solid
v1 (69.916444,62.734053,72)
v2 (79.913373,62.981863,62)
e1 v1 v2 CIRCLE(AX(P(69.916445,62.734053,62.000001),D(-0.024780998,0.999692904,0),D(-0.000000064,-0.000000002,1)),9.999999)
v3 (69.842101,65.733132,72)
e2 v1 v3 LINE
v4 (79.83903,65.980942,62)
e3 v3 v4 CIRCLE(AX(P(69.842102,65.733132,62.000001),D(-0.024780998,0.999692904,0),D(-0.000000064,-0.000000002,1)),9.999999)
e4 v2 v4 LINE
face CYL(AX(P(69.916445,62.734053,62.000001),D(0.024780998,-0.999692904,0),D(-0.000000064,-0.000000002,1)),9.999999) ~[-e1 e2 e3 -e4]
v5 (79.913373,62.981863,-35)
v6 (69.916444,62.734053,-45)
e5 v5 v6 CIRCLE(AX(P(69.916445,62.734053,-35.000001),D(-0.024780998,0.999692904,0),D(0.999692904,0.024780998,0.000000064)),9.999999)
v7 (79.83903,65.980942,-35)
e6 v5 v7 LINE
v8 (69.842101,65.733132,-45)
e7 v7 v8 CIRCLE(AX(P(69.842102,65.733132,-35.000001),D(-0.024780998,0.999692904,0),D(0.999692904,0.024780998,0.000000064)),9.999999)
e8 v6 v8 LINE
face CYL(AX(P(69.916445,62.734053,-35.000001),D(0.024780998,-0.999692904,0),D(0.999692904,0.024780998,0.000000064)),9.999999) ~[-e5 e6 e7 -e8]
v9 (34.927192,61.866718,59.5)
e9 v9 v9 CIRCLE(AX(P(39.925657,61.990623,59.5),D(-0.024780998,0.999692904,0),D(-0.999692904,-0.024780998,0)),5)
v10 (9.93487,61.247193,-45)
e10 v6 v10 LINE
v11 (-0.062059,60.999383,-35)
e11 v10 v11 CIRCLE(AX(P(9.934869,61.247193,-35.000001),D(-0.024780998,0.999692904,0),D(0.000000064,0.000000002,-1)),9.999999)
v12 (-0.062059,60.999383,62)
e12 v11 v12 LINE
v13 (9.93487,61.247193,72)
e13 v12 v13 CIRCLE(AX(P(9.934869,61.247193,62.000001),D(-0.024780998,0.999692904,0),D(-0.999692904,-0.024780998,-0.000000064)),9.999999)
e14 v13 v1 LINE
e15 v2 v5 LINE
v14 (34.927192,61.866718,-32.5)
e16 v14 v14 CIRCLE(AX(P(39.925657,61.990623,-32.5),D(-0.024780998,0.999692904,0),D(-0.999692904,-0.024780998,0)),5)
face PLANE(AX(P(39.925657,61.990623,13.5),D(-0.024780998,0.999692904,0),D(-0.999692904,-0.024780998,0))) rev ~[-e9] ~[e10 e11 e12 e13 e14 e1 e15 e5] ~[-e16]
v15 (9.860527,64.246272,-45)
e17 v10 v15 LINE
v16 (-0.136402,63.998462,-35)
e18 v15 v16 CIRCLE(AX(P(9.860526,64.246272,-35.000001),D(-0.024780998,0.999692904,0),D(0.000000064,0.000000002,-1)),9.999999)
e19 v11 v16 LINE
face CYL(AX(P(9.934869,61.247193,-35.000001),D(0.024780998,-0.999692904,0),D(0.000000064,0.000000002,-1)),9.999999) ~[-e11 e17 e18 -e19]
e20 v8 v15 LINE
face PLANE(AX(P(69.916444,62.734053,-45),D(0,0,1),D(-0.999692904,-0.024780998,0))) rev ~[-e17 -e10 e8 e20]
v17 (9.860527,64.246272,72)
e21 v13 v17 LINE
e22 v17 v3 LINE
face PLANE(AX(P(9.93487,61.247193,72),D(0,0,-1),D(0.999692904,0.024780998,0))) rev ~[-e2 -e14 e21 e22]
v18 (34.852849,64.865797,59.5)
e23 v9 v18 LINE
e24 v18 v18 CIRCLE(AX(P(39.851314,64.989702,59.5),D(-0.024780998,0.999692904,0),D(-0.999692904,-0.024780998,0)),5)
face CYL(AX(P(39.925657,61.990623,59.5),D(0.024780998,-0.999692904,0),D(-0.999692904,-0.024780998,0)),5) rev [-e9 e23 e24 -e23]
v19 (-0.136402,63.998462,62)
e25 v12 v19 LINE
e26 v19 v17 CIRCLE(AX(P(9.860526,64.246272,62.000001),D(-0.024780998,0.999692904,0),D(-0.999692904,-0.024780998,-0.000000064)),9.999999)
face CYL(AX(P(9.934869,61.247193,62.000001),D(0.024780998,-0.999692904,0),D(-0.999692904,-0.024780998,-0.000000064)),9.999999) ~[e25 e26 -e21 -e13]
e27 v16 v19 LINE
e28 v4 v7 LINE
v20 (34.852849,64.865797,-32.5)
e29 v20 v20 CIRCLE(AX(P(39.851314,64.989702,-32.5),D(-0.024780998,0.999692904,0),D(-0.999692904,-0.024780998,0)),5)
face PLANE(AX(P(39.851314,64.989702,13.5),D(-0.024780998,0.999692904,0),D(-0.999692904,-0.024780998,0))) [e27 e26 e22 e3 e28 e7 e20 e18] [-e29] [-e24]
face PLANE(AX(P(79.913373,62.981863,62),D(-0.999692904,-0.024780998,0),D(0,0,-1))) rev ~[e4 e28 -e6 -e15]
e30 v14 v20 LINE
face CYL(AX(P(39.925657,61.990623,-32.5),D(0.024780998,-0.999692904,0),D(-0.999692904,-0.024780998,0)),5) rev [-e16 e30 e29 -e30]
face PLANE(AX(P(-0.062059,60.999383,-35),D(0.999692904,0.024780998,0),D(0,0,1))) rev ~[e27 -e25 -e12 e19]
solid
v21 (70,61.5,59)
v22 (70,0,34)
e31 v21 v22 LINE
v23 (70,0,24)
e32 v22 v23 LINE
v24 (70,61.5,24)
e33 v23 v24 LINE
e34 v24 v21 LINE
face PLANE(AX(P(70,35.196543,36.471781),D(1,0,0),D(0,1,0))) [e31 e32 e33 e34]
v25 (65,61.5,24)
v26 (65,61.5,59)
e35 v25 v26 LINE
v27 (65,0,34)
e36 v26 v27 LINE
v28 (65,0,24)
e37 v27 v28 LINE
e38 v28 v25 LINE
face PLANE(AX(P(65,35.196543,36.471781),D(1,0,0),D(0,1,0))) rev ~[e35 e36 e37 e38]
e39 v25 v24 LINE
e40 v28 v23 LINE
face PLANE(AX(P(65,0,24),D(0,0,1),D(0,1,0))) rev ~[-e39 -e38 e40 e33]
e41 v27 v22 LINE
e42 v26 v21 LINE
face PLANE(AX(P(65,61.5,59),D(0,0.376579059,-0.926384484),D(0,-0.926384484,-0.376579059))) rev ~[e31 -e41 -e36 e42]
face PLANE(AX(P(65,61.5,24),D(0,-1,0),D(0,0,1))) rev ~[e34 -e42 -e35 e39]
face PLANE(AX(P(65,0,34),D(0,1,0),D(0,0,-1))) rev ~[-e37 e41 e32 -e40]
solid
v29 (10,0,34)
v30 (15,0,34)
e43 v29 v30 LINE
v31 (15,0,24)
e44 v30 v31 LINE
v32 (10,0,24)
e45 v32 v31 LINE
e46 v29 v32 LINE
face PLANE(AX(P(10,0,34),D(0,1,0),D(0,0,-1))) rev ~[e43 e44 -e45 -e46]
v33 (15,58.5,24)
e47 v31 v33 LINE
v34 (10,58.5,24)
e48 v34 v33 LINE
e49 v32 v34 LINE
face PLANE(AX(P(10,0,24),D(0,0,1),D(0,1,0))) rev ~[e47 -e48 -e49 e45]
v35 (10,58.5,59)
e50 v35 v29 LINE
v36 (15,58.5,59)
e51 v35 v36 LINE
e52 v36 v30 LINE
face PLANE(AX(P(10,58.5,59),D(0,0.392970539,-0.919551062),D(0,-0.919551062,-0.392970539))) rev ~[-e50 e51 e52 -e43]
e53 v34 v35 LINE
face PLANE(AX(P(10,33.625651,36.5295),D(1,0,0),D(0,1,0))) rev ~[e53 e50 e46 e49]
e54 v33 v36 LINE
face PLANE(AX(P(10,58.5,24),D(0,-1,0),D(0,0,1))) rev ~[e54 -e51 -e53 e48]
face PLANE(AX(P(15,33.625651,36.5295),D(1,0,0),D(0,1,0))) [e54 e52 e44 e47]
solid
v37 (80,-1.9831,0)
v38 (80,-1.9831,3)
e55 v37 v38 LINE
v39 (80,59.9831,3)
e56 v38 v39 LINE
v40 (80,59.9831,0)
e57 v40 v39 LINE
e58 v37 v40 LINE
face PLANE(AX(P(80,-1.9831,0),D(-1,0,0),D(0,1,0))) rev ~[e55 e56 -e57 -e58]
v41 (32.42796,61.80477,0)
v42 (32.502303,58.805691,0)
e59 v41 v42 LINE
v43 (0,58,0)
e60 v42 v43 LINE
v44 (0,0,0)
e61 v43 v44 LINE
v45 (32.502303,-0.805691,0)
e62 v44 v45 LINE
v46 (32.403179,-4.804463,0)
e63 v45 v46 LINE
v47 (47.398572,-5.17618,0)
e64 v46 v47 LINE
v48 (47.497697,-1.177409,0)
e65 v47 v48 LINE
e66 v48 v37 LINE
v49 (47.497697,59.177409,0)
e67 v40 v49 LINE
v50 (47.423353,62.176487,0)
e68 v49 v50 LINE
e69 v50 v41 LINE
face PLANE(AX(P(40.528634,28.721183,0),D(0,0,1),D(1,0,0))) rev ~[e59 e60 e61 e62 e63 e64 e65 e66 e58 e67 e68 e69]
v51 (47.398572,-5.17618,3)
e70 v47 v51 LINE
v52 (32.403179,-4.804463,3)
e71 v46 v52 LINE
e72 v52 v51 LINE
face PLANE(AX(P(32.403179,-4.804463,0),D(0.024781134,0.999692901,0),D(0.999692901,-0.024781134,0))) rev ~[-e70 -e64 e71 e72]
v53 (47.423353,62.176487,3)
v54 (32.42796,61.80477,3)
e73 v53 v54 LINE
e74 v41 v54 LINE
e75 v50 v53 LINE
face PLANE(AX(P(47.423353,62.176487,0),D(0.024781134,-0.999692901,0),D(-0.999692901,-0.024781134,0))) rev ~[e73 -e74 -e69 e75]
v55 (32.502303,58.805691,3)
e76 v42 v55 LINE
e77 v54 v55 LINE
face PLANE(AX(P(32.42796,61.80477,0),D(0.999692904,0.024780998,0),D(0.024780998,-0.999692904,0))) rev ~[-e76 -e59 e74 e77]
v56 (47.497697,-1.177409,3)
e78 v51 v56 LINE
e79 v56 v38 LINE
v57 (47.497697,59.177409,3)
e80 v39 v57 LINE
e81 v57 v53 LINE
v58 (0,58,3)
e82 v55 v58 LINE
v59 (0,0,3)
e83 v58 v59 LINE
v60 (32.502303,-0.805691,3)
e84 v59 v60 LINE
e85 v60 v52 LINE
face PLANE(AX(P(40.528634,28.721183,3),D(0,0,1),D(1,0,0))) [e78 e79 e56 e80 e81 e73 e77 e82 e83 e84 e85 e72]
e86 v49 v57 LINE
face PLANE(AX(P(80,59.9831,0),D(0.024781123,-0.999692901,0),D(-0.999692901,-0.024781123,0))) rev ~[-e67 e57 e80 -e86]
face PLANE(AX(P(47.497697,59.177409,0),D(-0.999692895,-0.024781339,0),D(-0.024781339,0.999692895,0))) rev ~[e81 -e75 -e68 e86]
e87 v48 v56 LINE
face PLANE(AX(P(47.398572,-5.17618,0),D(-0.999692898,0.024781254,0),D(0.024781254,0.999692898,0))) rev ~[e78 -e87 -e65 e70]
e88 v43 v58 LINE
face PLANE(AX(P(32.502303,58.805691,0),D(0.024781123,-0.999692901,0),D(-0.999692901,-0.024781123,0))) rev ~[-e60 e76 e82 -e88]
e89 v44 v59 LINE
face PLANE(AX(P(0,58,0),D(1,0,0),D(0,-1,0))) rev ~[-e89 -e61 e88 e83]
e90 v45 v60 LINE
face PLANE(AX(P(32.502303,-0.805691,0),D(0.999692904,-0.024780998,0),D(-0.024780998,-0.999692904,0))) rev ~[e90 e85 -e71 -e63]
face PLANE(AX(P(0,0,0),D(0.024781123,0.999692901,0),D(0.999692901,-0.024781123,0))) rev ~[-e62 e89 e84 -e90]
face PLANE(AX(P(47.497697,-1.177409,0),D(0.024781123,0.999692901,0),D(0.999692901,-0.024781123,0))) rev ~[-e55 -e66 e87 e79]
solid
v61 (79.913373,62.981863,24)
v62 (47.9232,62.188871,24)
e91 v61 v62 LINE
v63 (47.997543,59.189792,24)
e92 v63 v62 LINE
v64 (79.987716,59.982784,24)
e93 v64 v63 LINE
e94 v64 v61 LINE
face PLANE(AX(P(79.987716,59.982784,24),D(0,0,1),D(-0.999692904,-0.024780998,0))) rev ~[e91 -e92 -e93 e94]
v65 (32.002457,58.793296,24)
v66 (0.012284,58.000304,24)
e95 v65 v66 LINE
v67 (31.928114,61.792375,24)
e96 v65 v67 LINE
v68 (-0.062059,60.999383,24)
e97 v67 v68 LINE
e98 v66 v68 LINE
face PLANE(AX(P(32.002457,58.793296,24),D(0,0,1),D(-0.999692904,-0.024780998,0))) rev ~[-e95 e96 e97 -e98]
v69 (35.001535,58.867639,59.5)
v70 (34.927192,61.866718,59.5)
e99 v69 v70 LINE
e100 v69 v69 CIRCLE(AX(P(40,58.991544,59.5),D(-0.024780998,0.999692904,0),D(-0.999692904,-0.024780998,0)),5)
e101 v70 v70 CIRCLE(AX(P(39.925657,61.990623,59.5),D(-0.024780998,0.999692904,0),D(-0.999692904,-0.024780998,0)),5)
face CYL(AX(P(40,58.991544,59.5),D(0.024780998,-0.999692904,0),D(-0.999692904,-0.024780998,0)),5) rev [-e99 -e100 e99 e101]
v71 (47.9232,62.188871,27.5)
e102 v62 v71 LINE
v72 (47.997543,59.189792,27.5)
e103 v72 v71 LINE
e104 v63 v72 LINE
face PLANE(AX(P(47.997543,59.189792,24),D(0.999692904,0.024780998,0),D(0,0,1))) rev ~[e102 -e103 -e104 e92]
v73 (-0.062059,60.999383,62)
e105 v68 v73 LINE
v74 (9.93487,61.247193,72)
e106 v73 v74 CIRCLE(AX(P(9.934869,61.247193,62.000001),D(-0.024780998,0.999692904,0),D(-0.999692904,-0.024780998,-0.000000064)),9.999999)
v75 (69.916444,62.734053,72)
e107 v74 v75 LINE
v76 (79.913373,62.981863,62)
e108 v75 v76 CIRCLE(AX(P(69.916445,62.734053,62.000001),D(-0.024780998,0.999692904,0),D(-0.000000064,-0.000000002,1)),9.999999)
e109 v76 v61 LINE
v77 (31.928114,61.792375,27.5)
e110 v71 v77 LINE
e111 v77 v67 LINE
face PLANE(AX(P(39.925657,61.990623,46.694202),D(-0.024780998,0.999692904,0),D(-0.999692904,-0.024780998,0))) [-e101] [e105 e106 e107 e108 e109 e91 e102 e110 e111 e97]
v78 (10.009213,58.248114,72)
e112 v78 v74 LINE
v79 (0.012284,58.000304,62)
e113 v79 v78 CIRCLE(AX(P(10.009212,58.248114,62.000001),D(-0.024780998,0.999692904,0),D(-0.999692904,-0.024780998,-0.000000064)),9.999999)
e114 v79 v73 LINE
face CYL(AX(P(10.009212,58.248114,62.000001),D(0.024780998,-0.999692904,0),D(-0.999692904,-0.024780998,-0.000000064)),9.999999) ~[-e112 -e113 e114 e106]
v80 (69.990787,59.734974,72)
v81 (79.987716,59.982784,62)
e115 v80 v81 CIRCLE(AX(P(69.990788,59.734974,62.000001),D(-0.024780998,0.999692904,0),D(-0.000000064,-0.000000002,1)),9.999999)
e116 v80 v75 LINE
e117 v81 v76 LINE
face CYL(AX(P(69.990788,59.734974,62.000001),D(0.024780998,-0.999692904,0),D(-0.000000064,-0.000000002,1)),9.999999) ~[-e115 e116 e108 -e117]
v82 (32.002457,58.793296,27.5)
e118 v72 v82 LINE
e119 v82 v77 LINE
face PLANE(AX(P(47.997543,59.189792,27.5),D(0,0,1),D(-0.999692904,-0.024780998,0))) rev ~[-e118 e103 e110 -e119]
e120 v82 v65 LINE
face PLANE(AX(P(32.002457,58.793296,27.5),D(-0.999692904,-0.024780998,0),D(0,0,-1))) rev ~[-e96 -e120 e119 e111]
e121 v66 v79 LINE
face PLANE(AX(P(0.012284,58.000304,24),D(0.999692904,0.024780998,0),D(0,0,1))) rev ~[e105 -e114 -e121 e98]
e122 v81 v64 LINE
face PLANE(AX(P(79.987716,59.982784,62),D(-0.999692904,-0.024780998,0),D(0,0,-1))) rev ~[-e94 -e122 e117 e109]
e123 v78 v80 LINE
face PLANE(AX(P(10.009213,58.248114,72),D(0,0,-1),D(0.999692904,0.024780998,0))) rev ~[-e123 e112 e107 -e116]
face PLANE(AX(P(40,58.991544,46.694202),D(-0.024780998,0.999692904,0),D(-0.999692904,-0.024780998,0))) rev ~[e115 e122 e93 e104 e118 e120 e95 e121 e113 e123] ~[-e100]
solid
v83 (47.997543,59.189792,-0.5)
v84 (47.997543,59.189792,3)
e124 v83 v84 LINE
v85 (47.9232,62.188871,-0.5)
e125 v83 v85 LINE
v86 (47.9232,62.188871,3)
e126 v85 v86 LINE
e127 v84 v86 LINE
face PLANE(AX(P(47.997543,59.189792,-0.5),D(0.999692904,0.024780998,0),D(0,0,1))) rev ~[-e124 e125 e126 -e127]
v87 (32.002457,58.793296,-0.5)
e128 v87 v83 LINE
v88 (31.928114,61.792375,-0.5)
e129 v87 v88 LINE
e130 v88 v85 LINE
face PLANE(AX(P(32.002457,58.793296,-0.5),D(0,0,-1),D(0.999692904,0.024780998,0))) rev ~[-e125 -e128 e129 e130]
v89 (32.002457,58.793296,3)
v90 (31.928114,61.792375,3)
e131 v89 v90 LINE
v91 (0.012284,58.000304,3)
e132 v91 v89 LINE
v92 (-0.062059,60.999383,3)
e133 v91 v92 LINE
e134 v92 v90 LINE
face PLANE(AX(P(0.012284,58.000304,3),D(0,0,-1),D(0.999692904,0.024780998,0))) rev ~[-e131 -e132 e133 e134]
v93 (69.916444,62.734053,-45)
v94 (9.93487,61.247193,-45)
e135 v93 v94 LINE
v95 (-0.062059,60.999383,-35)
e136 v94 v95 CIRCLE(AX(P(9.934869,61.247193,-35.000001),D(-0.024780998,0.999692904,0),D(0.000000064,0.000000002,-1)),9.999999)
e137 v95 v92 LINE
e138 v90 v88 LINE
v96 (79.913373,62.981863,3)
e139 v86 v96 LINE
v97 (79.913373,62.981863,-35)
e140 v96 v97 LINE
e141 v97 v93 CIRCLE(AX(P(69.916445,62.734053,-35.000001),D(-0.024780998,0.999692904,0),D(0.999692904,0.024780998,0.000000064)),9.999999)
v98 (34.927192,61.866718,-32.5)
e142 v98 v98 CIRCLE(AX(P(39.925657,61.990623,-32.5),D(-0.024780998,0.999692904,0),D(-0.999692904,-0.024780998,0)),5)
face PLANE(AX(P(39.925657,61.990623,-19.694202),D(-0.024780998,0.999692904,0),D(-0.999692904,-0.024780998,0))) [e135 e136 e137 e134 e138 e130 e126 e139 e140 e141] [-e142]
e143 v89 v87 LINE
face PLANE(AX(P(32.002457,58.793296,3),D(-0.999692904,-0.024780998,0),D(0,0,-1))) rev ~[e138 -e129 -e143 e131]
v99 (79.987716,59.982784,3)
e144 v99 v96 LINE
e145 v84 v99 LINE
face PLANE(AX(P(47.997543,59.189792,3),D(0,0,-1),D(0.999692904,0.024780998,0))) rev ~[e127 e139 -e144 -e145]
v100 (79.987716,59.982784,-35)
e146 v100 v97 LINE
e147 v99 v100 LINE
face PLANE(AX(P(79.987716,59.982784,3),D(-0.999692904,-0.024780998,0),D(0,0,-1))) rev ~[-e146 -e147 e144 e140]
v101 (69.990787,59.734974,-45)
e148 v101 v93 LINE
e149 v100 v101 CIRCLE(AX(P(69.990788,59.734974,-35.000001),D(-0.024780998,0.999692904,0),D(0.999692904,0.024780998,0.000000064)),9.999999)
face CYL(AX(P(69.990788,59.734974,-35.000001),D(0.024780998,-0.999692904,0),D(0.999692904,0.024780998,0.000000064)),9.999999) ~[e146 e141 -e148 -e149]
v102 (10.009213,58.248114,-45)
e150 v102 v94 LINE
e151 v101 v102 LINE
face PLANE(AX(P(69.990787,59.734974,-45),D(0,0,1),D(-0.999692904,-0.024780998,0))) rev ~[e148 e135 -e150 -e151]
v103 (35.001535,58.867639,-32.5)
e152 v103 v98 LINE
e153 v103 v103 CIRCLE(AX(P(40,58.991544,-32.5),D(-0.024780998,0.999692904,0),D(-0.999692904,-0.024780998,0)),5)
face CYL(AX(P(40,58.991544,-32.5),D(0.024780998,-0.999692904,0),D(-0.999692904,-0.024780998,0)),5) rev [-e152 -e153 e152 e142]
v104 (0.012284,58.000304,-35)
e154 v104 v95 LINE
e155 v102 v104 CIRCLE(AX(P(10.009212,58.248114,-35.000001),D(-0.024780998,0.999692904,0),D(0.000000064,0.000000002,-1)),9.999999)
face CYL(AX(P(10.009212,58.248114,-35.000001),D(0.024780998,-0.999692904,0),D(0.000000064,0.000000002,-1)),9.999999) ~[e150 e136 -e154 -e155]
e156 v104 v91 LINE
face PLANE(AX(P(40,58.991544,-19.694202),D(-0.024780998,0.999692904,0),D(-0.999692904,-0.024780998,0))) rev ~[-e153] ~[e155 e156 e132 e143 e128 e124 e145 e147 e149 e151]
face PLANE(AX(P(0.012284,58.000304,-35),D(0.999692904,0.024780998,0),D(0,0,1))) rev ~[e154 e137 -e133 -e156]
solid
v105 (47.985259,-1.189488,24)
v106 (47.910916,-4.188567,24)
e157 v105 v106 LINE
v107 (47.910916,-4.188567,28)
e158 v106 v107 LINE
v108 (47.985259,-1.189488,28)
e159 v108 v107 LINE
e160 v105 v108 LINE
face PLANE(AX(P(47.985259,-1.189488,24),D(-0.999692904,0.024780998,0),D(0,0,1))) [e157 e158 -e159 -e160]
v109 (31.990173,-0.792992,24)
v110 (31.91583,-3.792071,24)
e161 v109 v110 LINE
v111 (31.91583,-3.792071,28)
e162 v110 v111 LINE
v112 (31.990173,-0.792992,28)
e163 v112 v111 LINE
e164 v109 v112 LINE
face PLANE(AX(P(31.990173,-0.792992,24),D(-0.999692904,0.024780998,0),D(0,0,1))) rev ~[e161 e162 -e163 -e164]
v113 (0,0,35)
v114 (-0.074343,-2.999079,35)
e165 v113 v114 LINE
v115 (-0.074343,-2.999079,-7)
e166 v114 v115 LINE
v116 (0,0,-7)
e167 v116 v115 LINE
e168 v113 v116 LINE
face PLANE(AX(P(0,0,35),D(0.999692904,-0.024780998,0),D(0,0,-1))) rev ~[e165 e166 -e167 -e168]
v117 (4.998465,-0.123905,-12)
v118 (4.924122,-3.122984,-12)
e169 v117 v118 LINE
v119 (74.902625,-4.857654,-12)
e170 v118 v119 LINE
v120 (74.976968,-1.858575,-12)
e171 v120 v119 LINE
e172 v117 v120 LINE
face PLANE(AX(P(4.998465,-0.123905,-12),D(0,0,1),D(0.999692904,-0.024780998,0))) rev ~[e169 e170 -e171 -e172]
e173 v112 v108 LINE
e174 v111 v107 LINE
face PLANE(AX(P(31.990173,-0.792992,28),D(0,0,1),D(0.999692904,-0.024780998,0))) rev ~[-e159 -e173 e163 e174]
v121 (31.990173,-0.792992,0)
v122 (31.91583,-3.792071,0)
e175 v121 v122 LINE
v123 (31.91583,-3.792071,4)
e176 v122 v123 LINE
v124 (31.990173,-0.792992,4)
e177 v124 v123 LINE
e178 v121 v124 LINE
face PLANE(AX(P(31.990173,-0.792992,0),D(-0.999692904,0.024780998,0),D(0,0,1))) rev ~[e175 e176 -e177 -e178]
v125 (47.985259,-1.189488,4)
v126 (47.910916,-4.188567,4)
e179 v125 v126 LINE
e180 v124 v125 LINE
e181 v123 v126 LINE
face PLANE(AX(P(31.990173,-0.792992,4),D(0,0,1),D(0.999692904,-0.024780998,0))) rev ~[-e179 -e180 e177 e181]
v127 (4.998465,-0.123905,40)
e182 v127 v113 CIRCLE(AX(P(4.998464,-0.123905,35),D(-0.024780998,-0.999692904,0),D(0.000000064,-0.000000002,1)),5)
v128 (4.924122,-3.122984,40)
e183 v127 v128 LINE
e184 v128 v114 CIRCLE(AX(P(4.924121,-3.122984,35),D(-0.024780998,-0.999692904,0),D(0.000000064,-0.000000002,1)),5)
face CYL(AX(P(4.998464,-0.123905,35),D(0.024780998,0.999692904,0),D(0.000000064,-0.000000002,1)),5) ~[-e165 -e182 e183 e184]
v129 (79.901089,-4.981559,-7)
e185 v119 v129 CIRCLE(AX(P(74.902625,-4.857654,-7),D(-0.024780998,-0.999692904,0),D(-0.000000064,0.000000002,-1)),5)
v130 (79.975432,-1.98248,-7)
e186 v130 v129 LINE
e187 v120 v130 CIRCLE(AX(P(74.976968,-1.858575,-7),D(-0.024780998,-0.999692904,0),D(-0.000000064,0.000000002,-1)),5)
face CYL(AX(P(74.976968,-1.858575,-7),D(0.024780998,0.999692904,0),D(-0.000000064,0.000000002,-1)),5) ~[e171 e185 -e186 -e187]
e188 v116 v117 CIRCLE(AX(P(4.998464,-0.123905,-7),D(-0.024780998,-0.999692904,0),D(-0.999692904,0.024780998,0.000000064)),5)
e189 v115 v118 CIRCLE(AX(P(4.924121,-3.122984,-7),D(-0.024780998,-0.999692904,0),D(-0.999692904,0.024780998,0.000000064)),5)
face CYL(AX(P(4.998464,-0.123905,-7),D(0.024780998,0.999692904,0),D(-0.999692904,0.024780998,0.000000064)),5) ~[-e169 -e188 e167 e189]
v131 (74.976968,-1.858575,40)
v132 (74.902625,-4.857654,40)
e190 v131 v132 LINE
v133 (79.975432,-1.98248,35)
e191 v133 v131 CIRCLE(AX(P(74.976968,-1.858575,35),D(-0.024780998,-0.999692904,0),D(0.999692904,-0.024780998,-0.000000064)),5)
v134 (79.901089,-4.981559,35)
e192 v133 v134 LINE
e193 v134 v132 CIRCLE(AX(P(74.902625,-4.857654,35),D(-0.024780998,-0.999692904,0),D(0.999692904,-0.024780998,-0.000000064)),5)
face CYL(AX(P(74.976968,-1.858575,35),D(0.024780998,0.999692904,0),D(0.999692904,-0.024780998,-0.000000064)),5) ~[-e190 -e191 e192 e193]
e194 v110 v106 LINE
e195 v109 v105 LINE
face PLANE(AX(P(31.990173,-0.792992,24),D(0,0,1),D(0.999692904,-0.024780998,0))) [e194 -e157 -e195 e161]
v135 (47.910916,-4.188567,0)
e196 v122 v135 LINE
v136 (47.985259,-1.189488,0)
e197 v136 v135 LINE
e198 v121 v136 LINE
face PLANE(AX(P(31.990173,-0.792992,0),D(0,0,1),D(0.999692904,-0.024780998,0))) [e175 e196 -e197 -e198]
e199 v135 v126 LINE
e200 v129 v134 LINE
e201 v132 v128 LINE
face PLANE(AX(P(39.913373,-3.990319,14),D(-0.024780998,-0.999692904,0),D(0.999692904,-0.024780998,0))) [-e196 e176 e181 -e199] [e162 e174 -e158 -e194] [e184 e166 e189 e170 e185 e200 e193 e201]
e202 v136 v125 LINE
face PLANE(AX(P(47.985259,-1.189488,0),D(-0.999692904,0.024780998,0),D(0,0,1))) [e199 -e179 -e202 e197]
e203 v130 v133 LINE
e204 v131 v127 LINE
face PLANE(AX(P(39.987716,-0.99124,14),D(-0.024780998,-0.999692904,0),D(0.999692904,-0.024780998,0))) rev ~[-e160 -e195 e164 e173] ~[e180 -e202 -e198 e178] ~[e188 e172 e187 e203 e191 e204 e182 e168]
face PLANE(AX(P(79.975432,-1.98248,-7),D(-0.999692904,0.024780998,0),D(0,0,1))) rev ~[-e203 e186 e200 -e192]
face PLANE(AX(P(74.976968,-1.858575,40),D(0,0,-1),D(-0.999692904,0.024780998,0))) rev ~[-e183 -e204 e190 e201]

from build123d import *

# Parameters (mm, degrees)
F1_DEPTH  = 3
F2_W      = 16
F2_H      = 4
F3_DEPTH  = 3
F4_R      = 5
F5_DEPTH  = 3
F6_R      = 5
F7_DEPTH  = 3
F9_DEPTH  = 5
F12_DEPTH = 5


with BuildPart() as f1:
    # F0 (on Top) → F1 (new body)
    with BuildSketch(Plane.XY):
        Polygon((32.502303, 58.805691), (0, 58), (0, 0), (32.502303, -0.805691), (32.403179, -4.804463), (47.398572, -5.17618), (47.497697, -1.177409), (80, -1.9831), (80, 59.9831), (47.497697, 59.177409), (47.423353, 62.176487), (32.42796, 61.80477), align=None)
    extrude(amount=F1_DEPTH)


with BuildPart() as f3:
    # F2 (on face) → F3 (new body)
    with BuildSketch(Plane(origin=(0, 0, 0), x_dir=(0.999693, -0.024781, 0), z_dir=(-0.024781, -0.999693, 0))):
        with BuildLine():
            ThreePointArc((0, -7), (1.464466, -10.535534), (5, -12))
            Line((5, -12), (75, -12))
            ThreePointArc((75, -12), (78.535534, -10.535534), (80, -7))
            Line((80, -7), (80, 35))
            ThreePointArc((80, 35), (78.535534, 38.535534), (75, 40))
            Line((75, 40), (5, 40))
            ThreePointArc((5, 40), (1.464466, 38.535534), (0, 35))
            Line((0, 35), (0, -7))
        make_face()
        with Locations((40, 2)):
            Rectangle(F2_W, F2_H, mode=Mode.SUBTRACT)
        with Locations((40, 26)):
            Rectangle(F2_W, F2_H, mode=Mode.SUBTRACT)
    extrude(amount=F3_DEPTH)


with BuildPart() as f5:
    # F4 (on face) → F5 (new body)
    with BuildSketch(Plane(origin=(-1.436865, 57.964382, 0), x_dir=(-0.999693, -0.024781, 0), z_dir=(-0.024781, 0.999693, 0))):
        with BuildLine():
            ThreePointArc((-81.449594, -35), (-78.520662, -42.071068), (-71.449594, -45))
            Line((-71.449594, -45), (-11.449594, -45))
            ThreePointArc((-11.449594, -45), (-4.378526, -42.071068), (-1.449594, -35))
            Line((-1.449594, -35), (-1.449594, 3))
            Line((-1.449594, 3), (-33.449594, 3))
            Line((-33.449594, 3), (-33.449594, -0.5))
            Line((-33.449594, -0.5), (-49.449594, -0.5))
            Line((-49.449594, -0.5), (-49.449594, 3))
            Line((-49.449594, 3), (-81.449594, 3))
            Line((-81.449594, 3), (-81.449594, -35))
        make_face()
        with Locations((-41.449594, -32.5)):
            Circle(F4_R, mode=Mode.SUBTRACT)
        with BuildLine():
            Line((-11.449594, 72), (-71.449594, 72))
            ThreePointArc((-71.449594, 72), (-78.520662, 69.071068), (-81.449594, 62))
            Line((-81.449594, 62), (-81.449594, 24))
            Line((-81.449594, 24), (-49.449594, 24))
            Line((-49.449594, 24), (-49.449594, 27.5))
            Line((-49.449594, 27.5), (-33.449594, 27.5))
            Line((-33.449594, 27.5), (-33.449594, 24))
            Line((-33.449594, 24), (-1.449594, 24))
            Line((-1.449594, 24), (-1.449594, 62))
            ThreePointArc((-1.449594, 62), (-4.378526, 69.071068), (-11.449594, 72))
        make_face()
        with Locations((-41.449594, 59.5)):
            Circle(F4_R, mode=Mode.SUBTRACT)
    extrude(amount=F5_DEPTH)


with BuildPart() as f7:
    # F6 (on face) → F7 (new body)
    with BuildSketch(Plane(origin=(-1.511208, 60.963461, 0), x_dir=(-0.999693, -0.024781, 0), z_dir=(-0.024781, 0.999693, 0))):
        with BuildLine():
            ThreePointArc((-81.449594, -35), (-78.520662, -42.071068), (-71.449594, -45))
            Line((-71.449594, -45), (-11.449594, -45))
            ThreePointArc((-11.449594, -45), (-4.378526, -42.071068), (-1.449594, -35))
            Line((-1.449594, -35), (-1.449594, 62))
            ThreePointArc((-1.449594, 62), (-4.378526, 69.071068), (-11.449594, 72))
            Line((-11.449594, 72), (-71.449594, 72))
            ThreePointArc((-71.449594, 72), (-78.520662, 69.071068), (-81.449594, 62))
            Line((-81.449594, 62), (-81.449594, -35))
        make_face()
        with Locations((-41.449594, -32.5)):
            Circle(F6_R, mode=Mode.SUBTRACT)
        with Locations((-41.449594, 59.5)):
            Circle(F6_R, mode=Mode.SUBTRACT)
    extrude(amount=F7_DEPTH)


with BuildPart() as f9:
    # F8 (on Right) → F9 (new body)
    with BuildSketch(Plane.YZ):
        Polygon((0, 24), (58.5, 24), (58.5, 59), (0, 34), align=None)
    extrude(amount=F9_DEPTH)


with BuildPart() as f9_1:
    # F10: moved
    add(f9.part.moved(Location((10, 0, 0))))


with BuildPart() as f12:
    # F11 (on Right) → F12 (new body)
    with BuildSketch(Plane.YZ):
        Polygon((0, 34), (0, 24), (61.5, 24), (61.5, 59), align=None)
    extrude(amount=F12_DEPTH)


with BuildPart() as f12_1:
    # F13: moved
    add(f12.part.moved(Location((65, 0, 0))))


solid = Compound([f1.part, f3.part, f5.part, f7.part, f9_1.part, f12_1.part])
